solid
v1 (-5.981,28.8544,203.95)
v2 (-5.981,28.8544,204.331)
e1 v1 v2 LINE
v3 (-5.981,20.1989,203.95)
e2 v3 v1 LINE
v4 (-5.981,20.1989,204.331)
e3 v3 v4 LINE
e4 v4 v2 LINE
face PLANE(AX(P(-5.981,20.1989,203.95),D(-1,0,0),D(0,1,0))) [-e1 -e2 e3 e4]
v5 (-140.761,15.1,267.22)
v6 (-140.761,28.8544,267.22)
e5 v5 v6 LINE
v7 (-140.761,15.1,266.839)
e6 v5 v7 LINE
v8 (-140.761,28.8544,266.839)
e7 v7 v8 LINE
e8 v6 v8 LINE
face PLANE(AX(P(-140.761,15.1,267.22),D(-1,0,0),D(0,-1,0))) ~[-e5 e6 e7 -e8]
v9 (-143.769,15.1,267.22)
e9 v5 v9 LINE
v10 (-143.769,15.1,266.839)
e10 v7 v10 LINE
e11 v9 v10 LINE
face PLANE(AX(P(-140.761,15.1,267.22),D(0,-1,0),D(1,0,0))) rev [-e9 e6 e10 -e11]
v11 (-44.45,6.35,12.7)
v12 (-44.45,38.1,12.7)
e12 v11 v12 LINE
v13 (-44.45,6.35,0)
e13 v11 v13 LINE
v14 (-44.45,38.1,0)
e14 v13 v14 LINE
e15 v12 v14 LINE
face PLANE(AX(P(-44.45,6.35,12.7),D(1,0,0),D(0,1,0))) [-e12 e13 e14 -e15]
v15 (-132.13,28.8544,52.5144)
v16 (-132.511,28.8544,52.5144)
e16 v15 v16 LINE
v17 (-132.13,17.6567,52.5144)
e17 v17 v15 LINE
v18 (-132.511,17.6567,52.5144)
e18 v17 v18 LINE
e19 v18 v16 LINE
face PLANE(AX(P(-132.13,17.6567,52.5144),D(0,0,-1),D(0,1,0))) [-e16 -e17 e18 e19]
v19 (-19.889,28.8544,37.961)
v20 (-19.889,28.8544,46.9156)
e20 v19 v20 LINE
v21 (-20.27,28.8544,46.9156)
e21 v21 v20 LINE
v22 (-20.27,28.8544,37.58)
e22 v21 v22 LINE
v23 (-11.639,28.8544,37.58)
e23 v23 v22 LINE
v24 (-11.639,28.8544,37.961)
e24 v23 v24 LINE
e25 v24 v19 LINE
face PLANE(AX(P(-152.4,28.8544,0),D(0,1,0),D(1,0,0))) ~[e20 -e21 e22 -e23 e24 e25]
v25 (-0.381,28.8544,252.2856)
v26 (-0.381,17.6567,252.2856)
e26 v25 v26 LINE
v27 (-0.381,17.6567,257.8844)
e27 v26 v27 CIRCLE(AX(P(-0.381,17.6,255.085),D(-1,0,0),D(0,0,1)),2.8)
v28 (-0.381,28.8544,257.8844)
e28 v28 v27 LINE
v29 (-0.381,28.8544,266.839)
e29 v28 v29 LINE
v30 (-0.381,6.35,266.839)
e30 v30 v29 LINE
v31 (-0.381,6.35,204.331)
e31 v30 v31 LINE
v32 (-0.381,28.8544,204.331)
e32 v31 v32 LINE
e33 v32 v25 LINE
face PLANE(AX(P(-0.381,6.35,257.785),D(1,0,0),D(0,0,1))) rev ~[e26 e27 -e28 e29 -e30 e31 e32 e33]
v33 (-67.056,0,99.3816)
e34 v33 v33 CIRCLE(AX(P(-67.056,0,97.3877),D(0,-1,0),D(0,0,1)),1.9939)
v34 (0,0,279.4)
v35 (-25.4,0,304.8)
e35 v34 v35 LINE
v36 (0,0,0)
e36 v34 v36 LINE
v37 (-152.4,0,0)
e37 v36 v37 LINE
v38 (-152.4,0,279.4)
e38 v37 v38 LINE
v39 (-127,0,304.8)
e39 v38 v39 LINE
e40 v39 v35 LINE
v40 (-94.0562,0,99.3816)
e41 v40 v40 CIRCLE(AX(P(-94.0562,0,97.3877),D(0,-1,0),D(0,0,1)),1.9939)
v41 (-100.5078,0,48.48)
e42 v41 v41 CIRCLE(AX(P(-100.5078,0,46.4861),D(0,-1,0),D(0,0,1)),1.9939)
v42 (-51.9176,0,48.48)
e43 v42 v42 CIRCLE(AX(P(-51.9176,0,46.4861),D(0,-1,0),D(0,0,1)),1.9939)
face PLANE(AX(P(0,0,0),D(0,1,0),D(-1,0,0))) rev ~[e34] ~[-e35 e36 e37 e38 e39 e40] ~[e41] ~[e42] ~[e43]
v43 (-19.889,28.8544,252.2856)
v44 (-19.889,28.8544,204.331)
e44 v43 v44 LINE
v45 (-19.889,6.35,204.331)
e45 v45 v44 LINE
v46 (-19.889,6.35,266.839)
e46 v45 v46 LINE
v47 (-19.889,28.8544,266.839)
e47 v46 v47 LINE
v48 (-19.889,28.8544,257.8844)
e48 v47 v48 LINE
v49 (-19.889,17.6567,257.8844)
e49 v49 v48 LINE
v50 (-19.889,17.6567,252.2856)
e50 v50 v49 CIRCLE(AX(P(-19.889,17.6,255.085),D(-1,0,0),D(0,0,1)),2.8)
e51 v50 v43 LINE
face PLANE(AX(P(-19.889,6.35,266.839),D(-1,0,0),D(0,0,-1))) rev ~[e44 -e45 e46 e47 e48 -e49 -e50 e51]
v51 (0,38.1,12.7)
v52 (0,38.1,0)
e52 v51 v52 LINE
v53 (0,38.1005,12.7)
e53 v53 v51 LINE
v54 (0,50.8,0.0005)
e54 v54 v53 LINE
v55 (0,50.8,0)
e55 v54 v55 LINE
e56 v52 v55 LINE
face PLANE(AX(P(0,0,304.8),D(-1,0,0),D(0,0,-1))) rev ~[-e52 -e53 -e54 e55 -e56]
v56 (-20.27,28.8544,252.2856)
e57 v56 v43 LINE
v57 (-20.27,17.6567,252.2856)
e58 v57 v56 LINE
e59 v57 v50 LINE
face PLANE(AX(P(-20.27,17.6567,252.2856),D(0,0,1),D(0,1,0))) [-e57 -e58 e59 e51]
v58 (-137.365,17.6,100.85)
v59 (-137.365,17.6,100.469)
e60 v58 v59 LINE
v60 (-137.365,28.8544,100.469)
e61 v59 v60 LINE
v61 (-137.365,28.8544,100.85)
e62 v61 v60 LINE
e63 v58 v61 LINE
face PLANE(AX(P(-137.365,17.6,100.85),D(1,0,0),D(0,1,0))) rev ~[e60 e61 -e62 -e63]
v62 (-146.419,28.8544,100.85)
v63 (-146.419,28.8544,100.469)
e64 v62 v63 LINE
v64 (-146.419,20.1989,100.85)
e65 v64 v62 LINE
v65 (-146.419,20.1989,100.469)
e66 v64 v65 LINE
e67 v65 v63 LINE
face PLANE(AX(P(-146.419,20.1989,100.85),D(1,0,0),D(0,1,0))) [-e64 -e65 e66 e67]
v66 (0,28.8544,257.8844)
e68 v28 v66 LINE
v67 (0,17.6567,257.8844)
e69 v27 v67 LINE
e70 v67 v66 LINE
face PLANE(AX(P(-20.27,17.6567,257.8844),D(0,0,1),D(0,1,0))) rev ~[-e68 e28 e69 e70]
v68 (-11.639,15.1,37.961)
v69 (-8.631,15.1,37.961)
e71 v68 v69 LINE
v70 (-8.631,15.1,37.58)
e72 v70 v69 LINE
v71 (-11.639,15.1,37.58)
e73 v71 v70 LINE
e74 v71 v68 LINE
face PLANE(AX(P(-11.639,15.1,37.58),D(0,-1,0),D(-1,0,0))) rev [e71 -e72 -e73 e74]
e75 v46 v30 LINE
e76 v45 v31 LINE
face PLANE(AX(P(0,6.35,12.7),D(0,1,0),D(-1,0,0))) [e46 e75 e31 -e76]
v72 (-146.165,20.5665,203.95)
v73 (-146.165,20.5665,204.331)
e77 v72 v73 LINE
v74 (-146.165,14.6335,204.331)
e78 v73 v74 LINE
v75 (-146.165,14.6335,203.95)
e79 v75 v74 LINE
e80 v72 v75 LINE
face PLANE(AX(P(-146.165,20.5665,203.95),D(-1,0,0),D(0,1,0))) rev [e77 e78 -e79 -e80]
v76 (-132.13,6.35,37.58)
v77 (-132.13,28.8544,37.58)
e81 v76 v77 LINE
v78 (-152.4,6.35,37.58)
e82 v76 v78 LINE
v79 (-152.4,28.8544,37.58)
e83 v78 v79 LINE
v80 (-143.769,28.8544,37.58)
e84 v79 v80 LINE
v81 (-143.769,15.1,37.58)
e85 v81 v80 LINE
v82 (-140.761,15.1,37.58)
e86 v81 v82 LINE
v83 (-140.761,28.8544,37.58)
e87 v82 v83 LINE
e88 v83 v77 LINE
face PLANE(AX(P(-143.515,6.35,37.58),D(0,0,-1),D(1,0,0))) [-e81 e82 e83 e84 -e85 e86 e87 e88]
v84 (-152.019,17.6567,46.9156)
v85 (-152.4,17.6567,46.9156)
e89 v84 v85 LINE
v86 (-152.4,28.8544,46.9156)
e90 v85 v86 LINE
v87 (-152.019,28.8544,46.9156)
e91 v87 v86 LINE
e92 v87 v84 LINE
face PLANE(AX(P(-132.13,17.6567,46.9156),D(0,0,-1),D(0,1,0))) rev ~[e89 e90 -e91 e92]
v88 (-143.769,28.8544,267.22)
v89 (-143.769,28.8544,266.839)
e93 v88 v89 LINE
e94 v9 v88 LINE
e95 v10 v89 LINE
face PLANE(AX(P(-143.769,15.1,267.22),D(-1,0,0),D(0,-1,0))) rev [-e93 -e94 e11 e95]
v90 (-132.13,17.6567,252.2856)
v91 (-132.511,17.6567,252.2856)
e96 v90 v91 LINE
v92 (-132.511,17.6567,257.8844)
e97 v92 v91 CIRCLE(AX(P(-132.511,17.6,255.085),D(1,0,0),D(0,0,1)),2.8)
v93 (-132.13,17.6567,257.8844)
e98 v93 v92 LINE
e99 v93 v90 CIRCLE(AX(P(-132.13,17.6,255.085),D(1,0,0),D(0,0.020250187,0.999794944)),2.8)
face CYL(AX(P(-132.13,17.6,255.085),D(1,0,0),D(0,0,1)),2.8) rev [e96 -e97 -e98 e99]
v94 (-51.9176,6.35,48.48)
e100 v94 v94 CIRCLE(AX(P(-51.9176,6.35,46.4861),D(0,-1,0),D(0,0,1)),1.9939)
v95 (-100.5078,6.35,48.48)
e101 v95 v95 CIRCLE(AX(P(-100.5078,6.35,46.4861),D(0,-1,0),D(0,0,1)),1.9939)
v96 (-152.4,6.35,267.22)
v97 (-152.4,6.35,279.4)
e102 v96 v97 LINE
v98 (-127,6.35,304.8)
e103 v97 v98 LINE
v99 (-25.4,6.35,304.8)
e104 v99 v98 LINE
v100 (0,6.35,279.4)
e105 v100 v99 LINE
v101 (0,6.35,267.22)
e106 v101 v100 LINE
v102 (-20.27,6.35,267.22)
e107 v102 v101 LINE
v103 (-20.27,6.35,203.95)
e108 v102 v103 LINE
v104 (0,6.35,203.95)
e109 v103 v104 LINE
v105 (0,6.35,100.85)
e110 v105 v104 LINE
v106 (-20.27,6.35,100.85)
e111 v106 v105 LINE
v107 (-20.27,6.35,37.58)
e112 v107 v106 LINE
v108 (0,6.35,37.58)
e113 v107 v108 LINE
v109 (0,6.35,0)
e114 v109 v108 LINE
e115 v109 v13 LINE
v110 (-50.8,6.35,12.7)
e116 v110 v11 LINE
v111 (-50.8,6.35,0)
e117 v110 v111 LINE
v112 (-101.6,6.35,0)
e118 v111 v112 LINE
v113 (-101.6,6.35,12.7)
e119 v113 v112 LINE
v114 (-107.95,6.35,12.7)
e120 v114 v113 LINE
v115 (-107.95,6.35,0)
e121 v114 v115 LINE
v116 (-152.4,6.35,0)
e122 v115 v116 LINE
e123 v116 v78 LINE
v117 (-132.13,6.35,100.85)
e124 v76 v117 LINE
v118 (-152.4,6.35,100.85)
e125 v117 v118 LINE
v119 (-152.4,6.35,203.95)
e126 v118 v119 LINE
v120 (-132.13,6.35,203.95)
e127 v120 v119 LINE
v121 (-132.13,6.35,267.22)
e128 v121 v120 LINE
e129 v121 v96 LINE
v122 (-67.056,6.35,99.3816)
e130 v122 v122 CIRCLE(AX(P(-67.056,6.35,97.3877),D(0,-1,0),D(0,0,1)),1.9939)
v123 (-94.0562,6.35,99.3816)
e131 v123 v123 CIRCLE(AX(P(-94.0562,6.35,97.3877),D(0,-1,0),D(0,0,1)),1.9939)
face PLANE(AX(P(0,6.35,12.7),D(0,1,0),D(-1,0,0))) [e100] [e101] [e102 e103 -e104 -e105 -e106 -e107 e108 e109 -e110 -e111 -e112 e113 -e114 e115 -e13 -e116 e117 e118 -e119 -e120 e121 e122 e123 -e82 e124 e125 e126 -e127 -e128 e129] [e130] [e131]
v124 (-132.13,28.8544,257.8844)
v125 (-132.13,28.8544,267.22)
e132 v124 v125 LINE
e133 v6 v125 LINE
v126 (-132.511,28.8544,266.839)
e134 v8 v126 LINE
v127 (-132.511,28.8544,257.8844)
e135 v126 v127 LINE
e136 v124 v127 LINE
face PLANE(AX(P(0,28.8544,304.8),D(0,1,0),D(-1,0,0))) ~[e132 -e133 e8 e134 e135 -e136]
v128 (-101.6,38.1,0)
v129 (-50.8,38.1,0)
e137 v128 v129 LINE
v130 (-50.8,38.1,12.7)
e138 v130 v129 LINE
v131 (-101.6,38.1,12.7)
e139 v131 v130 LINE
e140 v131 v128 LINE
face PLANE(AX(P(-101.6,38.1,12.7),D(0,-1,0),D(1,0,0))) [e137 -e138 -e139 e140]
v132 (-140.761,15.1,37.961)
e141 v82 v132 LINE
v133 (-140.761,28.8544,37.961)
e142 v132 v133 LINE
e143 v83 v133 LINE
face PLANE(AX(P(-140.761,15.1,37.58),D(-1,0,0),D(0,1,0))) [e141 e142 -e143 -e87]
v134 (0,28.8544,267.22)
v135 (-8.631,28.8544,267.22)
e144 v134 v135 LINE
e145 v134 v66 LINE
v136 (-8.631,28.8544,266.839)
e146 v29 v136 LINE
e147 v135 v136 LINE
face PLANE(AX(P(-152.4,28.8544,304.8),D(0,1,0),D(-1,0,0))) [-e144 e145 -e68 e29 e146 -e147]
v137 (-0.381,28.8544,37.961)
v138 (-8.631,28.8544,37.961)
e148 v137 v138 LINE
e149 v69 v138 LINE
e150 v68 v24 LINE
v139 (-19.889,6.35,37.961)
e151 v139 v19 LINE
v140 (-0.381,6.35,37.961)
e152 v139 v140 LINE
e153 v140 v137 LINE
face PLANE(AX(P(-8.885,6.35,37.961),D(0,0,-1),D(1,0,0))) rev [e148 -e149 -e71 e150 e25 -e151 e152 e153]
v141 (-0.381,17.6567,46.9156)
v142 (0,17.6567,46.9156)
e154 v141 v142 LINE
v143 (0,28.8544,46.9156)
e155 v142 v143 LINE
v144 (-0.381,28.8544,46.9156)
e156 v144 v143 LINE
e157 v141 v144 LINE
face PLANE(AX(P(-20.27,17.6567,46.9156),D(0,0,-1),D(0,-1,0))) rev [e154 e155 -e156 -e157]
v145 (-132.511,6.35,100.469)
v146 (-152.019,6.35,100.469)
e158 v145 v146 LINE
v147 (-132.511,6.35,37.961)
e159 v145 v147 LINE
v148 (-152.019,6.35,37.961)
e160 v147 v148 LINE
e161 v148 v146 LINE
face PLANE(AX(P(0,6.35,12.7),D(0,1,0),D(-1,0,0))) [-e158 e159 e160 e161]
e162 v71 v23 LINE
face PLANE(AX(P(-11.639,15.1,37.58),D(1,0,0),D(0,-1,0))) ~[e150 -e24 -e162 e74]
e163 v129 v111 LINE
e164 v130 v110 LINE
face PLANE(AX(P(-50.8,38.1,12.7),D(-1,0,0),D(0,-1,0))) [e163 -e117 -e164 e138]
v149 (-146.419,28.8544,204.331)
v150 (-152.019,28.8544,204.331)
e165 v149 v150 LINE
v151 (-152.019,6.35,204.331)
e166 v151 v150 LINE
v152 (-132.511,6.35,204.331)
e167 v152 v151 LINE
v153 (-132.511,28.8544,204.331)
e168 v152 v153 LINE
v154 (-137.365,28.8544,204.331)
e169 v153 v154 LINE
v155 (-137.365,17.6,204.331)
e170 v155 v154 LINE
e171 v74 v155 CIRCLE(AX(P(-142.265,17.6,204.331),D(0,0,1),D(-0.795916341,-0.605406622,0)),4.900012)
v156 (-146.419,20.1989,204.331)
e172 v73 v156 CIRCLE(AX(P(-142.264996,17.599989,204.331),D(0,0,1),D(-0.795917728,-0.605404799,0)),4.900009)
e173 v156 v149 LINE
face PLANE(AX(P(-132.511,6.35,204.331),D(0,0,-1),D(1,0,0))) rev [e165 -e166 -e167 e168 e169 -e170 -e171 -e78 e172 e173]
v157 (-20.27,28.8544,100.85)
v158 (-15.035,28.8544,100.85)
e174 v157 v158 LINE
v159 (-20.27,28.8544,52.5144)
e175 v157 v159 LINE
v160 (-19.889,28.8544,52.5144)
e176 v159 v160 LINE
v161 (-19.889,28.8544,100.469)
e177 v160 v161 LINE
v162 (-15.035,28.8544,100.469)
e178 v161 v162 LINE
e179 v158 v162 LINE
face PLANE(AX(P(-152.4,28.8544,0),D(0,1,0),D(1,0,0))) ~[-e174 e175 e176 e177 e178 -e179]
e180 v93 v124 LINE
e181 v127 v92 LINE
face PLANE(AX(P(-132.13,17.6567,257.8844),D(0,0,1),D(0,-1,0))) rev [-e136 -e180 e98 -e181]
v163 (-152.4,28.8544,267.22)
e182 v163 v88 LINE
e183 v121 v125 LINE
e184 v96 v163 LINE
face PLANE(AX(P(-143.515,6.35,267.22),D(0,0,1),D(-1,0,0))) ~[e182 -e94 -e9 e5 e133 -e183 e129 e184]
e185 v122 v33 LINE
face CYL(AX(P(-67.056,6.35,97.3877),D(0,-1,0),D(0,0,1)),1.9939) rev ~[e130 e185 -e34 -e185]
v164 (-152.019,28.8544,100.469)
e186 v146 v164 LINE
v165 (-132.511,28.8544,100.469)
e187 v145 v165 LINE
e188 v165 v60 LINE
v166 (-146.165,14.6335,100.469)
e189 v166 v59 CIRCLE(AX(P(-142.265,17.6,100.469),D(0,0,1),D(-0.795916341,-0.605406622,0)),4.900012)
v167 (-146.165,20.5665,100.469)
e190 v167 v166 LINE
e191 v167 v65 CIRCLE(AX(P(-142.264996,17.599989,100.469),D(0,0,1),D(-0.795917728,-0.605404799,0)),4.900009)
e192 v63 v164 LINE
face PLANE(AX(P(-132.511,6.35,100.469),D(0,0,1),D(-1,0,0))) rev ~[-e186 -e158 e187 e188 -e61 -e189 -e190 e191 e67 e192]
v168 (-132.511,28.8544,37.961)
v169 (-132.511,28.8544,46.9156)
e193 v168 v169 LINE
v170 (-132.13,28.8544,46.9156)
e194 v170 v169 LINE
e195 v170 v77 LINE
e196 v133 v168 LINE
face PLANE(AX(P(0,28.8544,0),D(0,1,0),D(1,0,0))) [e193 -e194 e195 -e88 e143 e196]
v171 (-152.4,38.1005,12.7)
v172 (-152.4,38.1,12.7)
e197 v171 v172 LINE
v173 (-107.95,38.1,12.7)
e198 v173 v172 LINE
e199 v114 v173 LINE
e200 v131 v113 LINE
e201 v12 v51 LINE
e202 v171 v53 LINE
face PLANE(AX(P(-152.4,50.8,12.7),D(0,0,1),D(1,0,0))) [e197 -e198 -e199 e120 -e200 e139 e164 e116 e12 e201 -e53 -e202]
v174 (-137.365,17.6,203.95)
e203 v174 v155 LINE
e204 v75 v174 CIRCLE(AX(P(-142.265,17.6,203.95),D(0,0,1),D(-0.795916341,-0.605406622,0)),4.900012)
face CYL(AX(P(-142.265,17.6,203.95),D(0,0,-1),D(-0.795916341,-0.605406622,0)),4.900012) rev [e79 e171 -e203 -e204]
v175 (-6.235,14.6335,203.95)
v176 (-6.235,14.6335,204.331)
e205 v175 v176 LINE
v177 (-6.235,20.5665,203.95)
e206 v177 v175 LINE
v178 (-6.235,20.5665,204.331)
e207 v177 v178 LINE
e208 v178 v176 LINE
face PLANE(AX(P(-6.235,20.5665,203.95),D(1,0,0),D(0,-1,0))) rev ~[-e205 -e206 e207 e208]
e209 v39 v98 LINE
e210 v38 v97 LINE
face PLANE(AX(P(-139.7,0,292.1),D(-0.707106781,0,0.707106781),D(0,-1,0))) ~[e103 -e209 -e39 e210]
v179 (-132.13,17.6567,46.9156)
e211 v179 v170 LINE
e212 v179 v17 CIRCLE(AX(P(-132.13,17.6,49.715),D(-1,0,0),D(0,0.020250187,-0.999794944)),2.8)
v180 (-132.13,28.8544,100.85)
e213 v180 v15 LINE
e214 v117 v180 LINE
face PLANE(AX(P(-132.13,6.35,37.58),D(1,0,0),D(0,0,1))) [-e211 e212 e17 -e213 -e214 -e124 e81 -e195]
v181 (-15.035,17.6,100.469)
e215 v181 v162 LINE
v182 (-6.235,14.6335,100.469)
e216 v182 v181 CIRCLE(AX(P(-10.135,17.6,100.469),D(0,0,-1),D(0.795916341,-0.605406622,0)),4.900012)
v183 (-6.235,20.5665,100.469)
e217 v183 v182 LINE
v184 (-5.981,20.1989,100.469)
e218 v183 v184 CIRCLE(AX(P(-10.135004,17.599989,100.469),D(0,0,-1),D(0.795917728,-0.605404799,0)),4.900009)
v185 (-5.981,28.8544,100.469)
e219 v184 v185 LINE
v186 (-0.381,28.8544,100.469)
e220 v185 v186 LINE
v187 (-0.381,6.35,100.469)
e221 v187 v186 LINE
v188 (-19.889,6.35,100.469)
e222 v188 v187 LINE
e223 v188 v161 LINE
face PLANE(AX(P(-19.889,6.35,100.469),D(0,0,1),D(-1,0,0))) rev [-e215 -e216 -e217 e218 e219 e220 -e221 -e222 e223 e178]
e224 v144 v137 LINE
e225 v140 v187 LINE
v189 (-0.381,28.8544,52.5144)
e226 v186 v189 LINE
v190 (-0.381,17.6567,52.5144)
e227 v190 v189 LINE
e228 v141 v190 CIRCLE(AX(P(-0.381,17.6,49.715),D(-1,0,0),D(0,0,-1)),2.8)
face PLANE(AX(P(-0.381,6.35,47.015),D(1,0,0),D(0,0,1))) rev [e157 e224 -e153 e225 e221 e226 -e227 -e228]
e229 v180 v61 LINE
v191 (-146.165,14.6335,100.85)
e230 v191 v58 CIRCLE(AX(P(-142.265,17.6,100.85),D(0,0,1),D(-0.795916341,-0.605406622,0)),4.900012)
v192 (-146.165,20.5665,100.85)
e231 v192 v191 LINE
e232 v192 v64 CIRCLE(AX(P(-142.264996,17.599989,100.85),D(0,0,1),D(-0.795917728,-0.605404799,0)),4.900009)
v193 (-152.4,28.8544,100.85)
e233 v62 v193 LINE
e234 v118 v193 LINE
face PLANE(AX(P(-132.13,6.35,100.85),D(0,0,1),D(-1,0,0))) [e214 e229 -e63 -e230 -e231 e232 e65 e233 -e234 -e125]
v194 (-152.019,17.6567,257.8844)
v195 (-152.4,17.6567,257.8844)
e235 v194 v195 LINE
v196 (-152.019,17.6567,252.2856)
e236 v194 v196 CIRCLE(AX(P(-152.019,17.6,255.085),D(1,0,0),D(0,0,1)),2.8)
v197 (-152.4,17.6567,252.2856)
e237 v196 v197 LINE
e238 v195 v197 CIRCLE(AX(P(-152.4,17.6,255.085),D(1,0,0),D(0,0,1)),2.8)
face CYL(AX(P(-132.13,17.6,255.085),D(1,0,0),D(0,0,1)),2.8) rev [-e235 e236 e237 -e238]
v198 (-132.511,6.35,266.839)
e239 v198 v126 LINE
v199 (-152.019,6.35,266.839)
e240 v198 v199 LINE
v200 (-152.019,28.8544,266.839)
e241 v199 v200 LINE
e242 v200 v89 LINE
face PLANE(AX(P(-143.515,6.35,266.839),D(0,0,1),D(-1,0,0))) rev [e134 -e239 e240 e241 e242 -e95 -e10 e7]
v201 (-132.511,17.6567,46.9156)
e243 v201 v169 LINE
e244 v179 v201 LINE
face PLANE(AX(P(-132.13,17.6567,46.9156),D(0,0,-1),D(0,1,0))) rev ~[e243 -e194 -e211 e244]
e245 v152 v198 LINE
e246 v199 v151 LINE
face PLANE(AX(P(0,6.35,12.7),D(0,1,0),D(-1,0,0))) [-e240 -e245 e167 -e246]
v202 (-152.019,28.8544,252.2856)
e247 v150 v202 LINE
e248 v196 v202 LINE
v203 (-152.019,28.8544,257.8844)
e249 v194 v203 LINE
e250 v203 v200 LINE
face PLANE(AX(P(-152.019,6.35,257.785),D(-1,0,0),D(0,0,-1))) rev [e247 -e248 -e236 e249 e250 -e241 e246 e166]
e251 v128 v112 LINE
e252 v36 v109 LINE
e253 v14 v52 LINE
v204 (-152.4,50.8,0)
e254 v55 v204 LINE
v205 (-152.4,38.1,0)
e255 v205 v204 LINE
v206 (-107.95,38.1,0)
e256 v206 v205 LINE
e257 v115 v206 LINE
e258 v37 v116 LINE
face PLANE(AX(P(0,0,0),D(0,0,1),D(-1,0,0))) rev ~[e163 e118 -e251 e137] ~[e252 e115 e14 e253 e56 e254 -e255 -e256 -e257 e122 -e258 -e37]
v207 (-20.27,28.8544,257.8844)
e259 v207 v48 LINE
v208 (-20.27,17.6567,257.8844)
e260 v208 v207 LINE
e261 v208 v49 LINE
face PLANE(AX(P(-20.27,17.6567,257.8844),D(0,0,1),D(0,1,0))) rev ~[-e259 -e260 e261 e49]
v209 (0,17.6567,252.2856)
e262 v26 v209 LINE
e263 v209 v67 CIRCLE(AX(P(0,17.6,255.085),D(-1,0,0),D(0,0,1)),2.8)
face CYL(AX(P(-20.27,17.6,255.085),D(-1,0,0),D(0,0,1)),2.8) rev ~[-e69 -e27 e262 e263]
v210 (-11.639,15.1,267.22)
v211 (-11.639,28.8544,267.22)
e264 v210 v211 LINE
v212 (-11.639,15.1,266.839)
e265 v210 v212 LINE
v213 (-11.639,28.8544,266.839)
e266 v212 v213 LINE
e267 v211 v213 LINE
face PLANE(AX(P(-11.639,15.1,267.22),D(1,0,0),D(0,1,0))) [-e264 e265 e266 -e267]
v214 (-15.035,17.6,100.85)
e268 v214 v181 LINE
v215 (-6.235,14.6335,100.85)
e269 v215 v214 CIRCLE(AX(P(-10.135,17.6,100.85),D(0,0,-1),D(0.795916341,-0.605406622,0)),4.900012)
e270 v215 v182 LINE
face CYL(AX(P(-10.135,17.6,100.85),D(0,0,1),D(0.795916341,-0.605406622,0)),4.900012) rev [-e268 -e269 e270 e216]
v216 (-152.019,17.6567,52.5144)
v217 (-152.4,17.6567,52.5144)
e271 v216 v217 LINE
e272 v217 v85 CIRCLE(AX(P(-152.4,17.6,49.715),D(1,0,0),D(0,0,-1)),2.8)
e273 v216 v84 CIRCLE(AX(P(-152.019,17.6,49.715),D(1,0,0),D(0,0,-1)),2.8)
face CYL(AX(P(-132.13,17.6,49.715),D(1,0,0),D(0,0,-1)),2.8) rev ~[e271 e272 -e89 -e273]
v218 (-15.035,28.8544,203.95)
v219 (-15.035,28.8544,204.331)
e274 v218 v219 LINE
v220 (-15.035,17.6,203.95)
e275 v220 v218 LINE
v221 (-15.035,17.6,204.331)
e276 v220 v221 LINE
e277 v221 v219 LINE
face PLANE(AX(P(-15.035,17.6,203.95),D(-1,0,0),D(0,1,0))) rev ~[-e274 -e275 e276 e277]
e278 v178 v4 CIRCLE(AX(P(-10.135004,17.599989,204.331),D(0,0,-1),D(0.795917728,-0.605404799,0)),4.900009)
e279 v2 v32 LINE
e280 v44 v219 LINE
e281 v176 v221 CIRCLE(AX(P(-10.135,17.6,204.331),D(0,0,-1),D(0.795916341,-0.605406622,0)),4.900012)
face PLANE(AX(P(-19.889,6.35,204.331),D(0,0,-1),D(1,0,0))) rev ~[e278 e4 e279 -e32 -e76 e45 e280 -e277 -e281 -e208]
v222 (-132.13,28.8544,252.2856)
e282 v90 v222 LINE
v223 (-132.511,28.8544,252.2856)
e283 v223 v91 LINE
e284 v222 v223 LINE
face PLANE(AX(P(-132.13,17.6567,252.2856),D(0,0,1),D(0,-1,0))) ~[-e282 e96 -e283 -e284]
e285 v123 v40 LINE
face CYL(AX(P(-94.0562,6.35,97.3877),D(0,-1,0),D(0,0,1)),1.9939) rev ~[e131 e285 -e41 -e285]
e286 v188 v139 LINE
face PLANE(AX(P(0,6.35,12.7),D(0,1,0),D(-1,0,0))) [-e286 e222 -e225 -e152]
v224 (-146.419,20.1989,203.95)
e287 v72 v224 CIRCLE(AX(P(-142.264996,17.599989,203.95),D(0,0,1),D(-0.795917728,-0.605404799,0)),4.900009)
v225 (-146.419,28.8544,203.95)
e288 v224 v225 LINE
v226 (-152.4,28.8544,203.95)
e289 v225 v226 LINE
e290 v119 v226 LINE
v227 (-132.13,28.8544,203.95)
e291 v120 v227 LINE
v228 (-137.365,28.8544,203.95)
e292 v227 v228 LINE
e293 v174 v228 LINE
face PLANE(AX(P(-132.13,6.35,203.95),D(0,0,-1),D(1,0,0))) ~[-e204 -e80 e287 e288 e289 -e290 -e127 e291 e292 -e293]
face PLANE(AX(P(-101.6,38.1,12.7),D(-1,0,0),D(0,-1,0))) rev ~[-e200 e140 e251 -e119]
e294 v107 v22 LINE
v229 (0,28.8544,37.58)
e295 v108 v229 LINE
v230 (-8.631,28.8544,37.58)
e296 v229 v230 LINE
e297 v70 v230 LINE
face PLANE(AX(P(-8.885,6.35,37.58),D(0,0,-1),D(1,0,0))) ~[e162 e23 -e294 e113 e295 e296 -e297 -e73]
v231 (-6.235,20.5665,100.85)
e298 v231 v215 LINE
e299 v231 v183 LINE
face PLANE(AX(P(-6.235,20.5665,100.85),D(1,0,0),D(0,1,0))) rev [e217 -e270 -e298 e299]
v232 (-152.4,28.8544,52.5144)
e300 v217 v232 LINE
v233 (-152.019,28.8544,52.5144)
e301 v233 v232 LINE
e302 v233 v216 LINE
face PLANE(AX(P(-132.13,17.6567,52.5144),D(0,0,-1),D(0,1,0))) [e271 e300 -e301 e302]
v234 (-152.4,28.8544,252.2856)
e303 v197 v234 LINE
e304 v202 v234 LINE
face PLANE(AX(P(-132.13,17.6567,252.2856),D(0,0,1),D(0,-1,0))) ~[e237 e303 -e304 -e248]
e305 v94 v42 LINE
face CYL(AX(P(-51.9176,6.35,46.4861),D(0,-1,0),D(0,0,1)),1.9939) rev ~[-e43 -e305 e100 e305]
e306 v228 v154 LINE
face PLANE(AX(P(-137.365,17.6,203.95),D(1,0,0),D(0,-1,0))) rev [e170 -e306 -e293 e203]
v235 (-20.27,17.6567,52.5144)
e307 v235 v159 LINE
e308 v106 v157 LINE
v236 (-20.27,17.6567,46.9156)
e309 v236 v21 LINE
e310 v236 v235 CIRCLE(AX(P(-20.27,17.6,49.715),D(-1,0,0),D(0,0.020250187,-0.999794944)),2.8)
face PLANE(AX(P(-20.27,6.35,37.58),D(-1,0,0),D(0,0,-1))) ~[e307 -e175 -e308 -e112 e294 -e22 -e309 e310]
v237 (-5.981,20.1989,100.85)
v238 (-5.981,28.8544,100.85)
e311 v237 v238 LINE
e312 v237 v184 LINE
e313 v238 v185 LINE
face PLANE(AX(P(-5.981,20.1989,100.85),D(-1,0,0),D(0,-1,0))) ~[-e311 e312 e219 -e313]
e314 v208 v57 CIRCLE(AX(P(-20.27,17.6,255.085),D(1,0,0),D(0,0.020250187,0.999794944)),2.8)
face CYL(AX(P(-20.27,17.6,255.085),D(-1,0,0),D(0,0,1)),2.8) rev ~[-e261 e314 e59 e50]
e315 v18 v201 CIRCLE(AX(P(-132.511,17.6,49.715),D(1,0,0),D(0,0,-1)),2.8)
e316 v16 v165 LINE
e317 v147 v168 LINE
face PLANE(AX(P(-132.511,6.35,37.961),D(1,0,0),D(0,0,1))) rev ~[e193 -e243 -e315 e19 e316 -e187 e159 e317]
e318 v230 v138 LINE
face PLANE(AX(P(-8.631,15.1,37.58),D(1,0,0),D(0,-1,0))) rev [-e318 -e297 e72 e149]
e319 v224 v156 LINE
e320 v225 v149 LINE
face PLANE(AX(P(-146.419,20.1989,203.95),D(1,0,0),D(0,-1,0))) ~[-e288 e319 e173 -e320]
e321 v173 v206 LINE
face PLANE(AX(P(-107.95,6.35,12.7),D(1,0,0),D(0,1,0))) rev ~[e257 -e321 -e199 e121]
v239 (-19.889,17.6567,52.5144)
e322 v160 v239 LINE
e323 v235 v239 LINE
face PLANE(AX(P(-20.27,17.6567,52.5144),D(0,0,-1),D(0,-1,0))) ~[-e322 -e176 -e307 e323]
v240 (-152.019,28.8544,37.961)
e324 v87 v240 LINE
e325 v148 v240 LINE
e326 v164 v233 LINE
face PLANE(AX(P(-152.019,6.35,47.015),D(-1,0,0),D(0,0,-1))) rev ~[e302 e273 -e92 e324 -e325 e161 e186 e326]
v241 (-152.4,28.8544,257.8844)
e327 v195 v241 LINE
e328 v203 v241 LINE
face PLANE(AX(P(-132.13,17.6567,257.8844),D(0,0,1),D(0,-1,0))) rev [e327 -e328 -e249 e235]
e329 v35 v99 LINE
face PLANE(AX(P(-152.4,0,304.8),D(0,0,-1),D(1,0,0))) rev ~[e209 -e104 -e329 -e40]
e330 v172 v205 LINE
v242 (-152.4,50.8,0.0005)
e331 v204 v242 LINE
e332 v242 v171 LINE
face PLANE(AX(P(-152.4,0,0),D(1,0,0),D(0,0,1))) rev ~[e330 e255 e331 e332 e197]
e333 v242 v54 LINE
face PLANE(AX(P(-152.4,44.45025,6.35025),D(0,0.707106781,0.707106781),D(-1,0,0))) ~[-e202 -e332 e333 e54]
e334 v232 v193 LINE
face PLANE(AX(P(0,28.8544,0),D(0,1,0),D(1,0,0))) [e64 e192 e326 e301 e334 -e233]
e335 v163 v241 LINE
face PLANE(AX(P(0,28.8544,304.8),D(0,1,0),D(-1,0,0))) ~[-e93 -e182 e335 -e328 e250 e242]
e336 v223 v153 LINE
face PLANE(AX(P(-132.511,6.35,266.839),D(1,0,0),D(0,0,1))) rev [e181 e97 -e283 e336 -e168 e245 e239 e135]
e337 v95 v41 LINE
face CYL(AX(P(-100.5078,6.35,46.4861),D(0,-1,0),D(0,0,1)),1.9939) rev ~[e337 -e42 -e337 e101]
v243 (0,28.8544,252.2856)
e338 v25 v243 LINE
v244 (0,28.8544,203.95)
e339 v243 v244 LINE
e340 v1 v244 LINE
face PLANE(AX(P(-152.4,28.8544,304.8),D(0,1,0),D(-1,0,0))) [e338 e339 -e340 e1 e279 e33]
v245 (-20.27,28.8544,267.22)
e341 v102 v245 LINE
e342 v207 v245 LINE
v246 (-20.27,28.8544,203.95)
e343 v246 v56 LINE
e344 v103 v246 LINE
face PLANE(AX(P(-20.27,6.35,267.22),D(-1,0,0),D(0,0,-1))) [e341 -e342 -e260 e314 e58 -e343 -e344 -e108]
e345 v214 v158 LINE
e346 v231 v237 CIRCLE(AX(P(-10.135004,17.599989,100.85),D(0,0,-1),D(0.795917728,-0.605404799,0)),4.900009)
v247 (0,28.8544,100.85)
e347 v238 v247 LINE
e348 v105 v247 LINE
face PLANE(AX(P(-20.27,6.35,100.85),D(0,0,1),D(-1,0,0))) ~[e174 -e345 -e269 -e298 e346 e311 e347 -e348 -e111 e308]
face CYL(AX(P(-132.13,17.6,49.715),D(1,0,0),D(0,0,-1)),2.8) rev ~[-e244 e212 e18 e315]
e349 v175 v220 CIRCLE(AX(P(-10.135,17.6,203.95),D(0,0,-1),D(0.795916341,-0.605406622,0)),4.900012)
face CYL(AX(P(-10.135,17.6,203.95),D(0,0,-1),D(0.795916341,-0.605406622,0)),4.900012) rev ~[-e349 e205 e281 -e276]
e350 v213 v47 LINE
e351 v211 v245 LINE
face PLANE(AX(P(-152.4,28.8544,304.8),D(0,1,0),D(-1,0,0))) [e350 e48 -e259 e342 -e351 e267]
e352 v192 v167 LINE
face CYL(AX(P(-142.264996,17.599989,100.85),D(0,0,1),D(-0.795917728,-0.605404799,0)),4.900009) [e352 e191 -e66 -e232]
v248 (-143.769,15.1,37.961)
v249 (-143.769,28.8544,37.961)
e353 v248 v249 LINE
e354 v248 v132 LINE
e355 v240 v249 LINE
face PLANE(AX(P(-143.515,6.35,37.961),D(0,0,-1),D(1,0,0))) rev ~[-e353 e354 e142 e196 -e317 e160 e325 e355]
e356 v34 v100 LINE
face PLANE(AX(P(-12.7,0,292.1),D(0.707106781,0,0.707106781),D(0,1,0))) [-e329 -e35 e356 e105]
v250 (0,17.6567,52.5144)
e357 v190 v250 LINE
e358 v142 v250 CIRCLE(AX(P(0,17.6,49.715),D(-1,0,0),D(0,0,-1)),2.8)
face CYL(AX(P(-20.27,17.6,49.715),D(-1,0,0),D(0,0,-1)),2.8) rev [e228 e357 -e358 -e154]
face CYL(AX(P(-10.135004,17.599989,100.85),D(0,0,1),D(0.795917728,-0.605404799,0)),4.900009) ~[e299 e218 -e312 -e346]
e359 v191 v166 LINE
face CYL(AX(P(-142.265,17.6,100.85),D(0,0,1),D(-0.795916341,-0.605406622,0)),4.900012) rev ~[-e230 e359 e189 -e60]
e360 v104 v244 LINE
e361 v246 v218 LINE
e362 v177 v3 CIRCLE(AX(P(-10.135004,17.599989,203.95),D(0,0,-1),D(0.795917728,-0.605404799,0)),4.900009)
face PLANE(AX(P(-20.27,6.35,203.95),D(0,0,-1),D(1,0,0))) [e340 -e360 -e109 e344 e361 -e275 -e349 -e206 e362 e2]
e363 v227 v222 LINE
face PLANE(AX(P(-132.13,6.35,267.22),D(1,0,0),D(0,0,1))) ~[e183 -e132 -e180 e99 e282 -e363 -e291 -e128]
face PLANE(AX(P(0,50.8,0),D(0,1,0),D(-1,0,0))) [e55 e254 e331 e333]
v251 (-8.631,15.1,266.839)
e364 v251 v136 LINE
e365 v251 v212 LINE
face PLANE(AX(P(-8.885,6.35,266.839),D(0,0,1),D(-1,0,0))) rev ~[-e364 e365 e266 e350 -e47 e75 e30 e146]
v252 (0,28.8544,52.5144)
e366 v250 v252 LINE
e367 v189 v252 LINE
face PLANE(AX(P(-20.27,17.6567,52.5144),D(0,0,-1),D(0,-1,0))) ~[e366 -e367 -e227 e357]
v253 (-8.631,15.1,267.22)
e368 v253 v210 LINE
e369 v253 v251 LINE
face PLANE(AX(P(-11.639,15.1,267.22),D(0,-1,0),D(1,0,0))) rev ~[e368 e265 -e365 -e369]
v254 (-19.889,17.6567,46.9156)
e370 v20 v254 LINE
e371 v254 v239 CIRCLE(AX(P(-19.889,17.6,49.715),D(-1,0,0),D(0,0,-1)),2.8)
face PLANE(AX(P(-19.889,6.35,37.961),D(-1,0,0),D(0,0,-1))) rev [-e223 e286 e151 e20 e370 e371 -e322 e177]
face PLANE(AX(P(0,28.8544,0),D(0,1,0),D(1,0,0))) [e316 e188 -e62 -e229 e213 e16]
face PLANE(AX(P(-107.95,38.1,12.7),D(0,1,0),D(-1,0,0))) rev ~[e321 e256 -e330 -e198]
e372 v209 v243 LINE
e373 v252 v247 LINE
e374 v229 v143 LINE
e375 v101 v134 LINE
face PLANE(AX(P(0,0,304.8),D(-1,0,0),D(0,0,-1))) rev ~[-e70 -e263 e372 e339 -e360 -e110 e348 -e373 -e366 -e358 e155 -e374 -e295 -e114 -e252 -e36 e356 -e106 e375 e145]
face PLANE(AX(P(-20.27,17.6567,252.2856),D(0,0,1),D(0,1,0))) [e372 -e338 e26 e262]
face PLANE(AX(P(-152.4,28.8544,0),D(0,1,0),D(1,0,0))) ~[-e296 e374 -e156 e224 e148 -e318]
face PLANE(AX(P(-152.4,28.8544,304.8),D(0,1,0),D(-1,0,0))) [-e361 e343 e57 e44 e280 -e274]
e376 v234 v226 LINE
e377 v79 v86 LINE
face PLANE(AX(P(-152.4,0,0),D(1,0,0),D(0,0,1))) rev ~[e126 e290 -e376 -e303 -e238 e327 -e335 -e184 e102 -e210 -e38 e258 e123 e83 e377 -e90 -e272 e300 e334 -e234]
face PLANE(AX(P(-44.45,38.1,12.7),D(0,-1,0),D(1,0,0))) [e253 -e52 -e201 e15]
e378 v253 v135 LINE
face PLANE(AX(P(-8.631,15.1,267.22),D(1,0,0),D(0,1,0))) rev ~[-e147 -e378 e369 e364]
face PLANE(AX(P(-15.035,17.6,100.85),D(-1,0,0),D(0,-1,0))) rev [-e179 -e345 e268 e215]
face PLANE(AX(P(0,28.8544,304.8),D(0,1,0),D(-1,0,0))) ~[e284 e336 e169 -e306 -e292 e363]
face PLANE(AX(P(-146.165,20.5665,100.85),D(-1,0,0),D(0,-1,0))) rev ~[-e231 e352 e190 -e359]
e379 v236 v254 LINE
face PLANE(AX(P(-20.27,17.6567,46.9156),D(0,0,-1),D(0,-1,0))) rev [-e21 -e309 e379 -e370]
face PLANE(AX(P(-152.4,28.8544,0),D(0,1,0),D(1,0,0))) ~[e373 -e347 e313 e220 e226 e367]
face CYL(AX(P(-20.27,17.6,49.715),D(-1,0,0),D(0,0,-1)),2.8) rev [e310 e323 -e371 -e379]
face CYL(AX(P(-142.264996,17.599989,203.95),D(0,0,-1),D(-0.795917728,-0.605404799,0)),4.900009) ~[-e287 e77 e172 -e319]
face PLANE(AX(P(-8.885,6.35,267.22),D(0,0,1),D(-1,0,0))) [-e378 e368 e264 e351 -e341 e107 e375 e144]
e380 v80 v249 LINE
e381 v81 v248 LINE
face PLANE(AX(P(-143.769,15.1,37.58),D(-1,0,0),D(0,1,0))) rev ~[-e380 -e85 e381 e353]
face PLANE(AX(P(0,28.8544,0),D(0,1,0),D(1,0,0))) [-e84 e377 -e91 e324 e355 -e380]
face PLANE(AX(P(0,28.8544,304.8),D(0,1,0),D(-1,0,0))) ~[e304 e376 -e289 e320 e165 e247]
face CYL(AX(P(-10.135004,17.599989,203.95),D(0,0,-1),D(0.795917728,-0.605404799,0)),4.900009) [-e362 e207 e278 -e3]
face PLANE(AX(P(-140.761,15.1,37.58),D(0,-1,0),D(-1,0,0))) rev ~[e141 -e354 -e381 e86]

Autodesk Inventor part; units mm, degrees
ref_plane "YZ Plane" through (0, 0, 0) normal (1, 0, 0) x (0, 1, 0)
sketch "Sketch1" plane through (0, 0, 0) normal (0, 1, 0) x (-1, 0, 0)
  line L0 (0, 0) -> (152.4, 0)
  line L1 (152.4, 0) -> (152.4, 304.8)
  line L2 (152.4, 304.8) -> (0, 304.8)
  line L3 (0, 304.8) -> (0, 0)
  dimension "d0" = 152.4
  dimension "d1" = 304.8
extrude "Extrusion1" add sketch "Sketch1" along normal blind 50.8
sketch "Sketch3" plane through (0, 50.8, 0) normal (0, 1, 0) x (1, 0, 0)
  line L0 (-152.4, -12.7) -> (0, -12.7)
  line L1 (0, -12.7) -> (0, -304.8)
  line L2 (0, -304.8) -> (-152.4, -304.8)
  line L3 (-152.4, -304.8) -> (-152.4, -12.7)
  line L4 (0, 0) -> (-152.4, 0) projected
  line L5 (0, -304.8) -> (0, 0) projected
  dimension "d8" = 12.7
  dimension "d9" = 152.4
  dimension "d10" = 0
  dimension "d11" = 292.1
extrude "Extrusion2" cut sketch "Sketch3" against normal blind 44.45
sketch "Sketch4" plane through (-152.4, 50.8, 12.7) normal (0, 0, 1) x (1, 0, 0)
  line L0 (10.16, -44.45) -> (0, -44.45)
  line L1 (107.95, -12.7) -> (101.6, -12.7)
  line L2 (101.6, -12.7) -> (101.6, -44.45)
  line L3 (101.6, -44.45) -> (107.95, -44.45)
  line L4 (107.95, -44.45) -> (107.95, -12.7)
  line L5 (152.4, 0) -> (152.4, -44.45) projected
  line L6 (0, 0) -> (152.4, 0) projected
  line L7 (152.4, -44.45) -> (0, -44.45) projected
  line L8 (44.45, -12.7) -> (50.8, -12.7)
  line L9 (50.8, -12.7) -> (50.8, -44.45)
  line L10 (50.8, -44.45) -> (44.45, -44.45)
  line L11 (44.45, -44.45) -> (44.45, -12.7)
  line L12 (0, -44.45) -> (0, 0) projected
  line L13 (44.45, -12.7) -> (0, -12.7)
  line L14 (44.45, -12.7) -> (152.4, -12.7)
  point P0 (152.4, -50.8)
  dimension "d15" = 44.45
  dimension "d16" = 6.35
  dimension "d18" = 31.75
  dimension "d22" = 0
  dimension "d23" = 6.35
  dimension "d24" = 31.75
  dimension "d25" = 44.45
extrude "Extrusion3" cut sketch "Sketch4" against normal through all contours L0 L12 L13 L11 L7 | L9 L14 L2 L7 | L4 L14 L5 L7
chamfer "Chamfer1" distance 12.7 angle 45 1 edges at (-76.2, 50.8, 12.7)
chamfer "Chamfer2" distance 25.4 angle 45 2 edges at (-152.4, 3.175, 304.8) (0, 3.175, 304.8) measured on face at (-101.6, 2.1167, 304.8)
sketch "Sketch8" plane through (0, 6.35, 0) normal (0, 1, 0) x (1, 0, 0)
  line L0 (-102.7176, -33.0495) -> (-49.7078, -33.0495)
  line L1 (-49.7078, -33.0495) -> (-49.7078, -100.3087)
  line L2 (-49.7078, -100.3087) -> (-102.7176, -100.3087)
  line L3 (-102.7176, -100.3087) -> (-102.7176, -33.0495)
  circle A0 centre (-94.0562, -97.3877) radius 1.9939
  circle A1 centre (-67.056, -97.3877) radius 1.9939
  circle A2 centre (-100.5078, -46.4861) radius 1.9939
  circle A3 centre (-51.9176, -46.4861) radius 1.9939
  line L4 (-25.3492, -49.0474) -> (-25.3492, -97.3582) projected
  line L5 (-67.056, -97.3877) -> (-51.9176, -97.3877)
  point P0 (0, 0)
  dimension "d72" = 53.0098
  dimension "d73" = 67.2592
  dimension "d74" = 3.9878
  dimension "d75" = 2.921
  dimension "d76" = 8.6614
  dimension "d77" = 3.9878
  dimension "d78" = 27.0002
  dimension "d79" = 3.9878
  dimension "d81" = 2.2098
  dimension "d84" = 3.9878
  dimension "d85" = 2.2098
  dimension "d87" = 24.3586
  dimension "d99" = 50.9016
  dimension "d100" = 13.4366
  dimension "d101" = 13.4366
hole "Hole1" at (-94.0562, 6.35, 97.3877) at (-67.056, 6.35, 97.3877) at (-100.5078, 6.35, 46.4861) at (-51.9176, 6.35, 46.4861) direction (0, -1, 0) diameter 3.9878 end through all
sketch "Sketch11" plane through (0, 6.35, 0) normal (0, 1, 0) x (1, 0, 0)
  line L0 (-143.515, -33.715) -> (-143.515, -38.215) projected
  line L1 (-141.015, -33.715) -> (-141.015, -38.215) projected
  line L2 (-143.515, -33.215) -> (-141.015, -33.215) projected
  line L3 (-142.265, -75.215) -> (-133.265, -75.215) projected
  line L4 (-133.265, -75.215) -> (-133.265, -43.215) projected
  line L5 (-133.265, -43.215) -> (-151.265, -43.215) projected
  line L6 (-151.265, -43.215) -> (-151.265, -75.215) projected
  line L7 (-151.265, -75.215) -> (-142.265, -75.215) projected
  line L8 (-151.265, -38.215) -> (-133.265, -38.215) projected
  line L9 (-160.765, -52.415) -> (-123.765, -52.415)
  line L10 (-160.765, -47.015) -> (-123.765, -47.015)
  line L11 (-150.565, -75.215) -> (-150.565, -86.215) projected
  line L12 (-149.165, -100.215) -> (-143.2099, -100.215) projected
  line L13 (-141.3201, -100.215) -> (-135.365, -100.215) projected
  line L14 (-146.165, -102.415) -> (-137.365, -102.415) projected
  arc A0 (-132.765, -38.715) -> (-133.265, -38.215) centre (-133.265, -38.715) ccw projected
  arc A1 (-151.265, -38.215) -> (-151.765, -38.715) centre (-151.265, -38.715) ccw projected
  line L15 (-151.765, -38.715) -> (-151.765, -43.215) projected
  line L16 (-132.765, -43.215) -> (-132.765, -38.715) projected
  line L17 (-143.015, -103.215) -> (-141.515, -103.215) projected
  line L18 (-152.019, -37.961) -> (-132.511, -37.961)
  line L19 (-132.511, -37.961) -> (-132.511, -100.469)
  line L20 (-132.511, -100.469) -> (-152.019, -100.469)
  line L21 (-152.019, -100.469) -> (-152.019, -37.961)
  line L22 (-152.4, -279.4) -> (-152.4, 0) projected
  line L23 (-152.4, -37.58) -> (-132.13, -37.58)
  line L24 (-132.13, -37.58) -> (-132.13, -100.85)
  line L25 (-132.13, -100.85) -> (-152.4, -100.85)
  line L26 (-152.4, -100.85) -> (-152.4, -37.58)
  line L27 (-76.2, -26.595) -> (-76.2, -134.8867)
  line L28 (0, 0) -> (0, -279.4) projected
  line L29 (-19.889, -37.961) -> (-19.889, -100.469)
  dimension "d102" = 0.254
  dimension "d103" = 0.254
  dimension "d104" = 0.254
  dimension "d105" = 0.254
  dimension "d106" = 0.381
  dimension "d107" = 0.381
  dimension "d108" = 0.381
  dimension "d115" = 76.2
extrude "Extrusion6" add sketch "Sketch11" along normal blind 22.5044 contours L23 L1 L18 L0 | L0 L18 L21 L10 L22 L23 | L23 L24 L10 L19 L18 L1 | L10 L21 L9 L22 | L9 L21 L20 L19 L24 L25 L22 | L24 L9 L19 L10
sketch "Sketch13" plane through (-132.13, 6.35, 100.85) normal (1, 0, 0) x (0, 0, -1)
  circle A0 centre (51.135, 11.25) radius 2.8 projected
  line L0 (48.3356, 11.3067) -> (48.3356, 22.5044)
  line L1 (0, 22.5044) -> (63.27, 22.5044) projected
  line L2 (48.3356, 11.3067) -> (59.5333, 11.3067) construction
  line L3 (53.9344, 11.3067) -> (53.9344, 22.5044)
  line L4 (53.9344, 11.3067) -> (65.1321, 11.3067) construction
  line L5 (48.3356, 22.5044) -> (53.9344, 22.5044)
  arc A1 (48.3356, 11.3067) -> (53.9344, 11.3067) centre (51.135, 11.25) ccw
  point P0 (100.85, -6.35)
  dimension "d111" = 90
  dimension "d112" = 90
extrude "Extrusion7" cut sketch "Sketch13" against normal through all
sketch "Sketch14" plane through (-152.4, 6.35, 100.85) normal (0, 0, 1) x (1, 0, 0)
  arc A0 (6.235, 8.2835) -> (6.235, 14.2165) centre (10.135, 11.25) ccw projected
  line L0 (6.235, 14.2165) -> (6.235, 8.2835) projected
  line L1 (5.981, 8.7157) -> (5.981, 13.3615)
  line L2 (0, 22.5044) -> (20.27, 22.5044) projected
  line L3 (5.981, 13.3615) -> (5.981, 22.5044)
  line L4 (15.289, 22.5044) -> (5.981, 22.5044)
  arc A1 (6.235, 8.2835) -> (5.981, 13.8489) centre (10.135, 11.25) ccw
  line L5 (15.035, 11.25) -> (15.035, 22.5044)
  line L6 (19.889, 22.5044) -> (0.381, 22.5044) projected
  line L7 (15.035, 11.25) -> (26.2894, 11.25) construction
  point P0 (152.4, -6.35)
  dimension "d116" = 0.254
  dimension "d118" = 90
ref_plane "Work Plane1" through (-76.2, 0, 0) normal (1, 0, 0) x (0, 0, -1)
ref_plane "Work Plane2" through (-127, 0, 152.4) normal (0, 0, 1) x (1, 0, 0)
extrude "Extrusion8" cut sketch "Sketch14" against normal up to surface (0.381 mm away)
sketch "Sketch15" plane through (-132.13, 6.35, 37.58) normal (0, 0, -1) x (-1, 0, 0)
  line L0 (8.885, 13.25) -> (8.885, 9.25) projected
  line L1 (11.385, 9.25) -> (11.385, 13.25) projected
  line L2 (11.385, 8.75) -> (8.885, 8.75) projected
  line L3 (0, 22.5044) -> (20.27, 22.5044) projected
  line L4 (8.631, 8.75) -> (8.631, 22.5044)
  line L5 (19.889, 22.5044) -> (0.381, 22.5044) projected
  line L6 (11.639, 8.75) -> (11.639, 22.5044)
  line L7 (8.631, 22.5044) -> (11.639, 22.5044)
  line L8 (8.631, 8.75) -> (8.885, 8.75)
  line L9 (11.385, 8.75) -> (11.639, 8.75)
  line L10 (8.885, 8.75) -> (11.385, 8.75)
  point P0 (-132.13, -6.35)
  dimension "d121" = 0.254
  dimension "d122" = 0.254
extrude "Extrusion9" cut sketch "Sketch15" against normal up to surface (0.381 mm away)
mirror "Mirror2" about plane through (-127, 0, 152.4) normal (0, 0, 1) of "Extrusion6", "Extrusion7", "Extrusion8", "Extrusion9"
mirror "Mirror3" about plane through (-76.2, 0, 0) normal (1, 0, 0) of "Extrusion6", "Extrusion7", "Extrusion8", "Extrusion9", "Mirror2"
properties part number "RC Chassis"
